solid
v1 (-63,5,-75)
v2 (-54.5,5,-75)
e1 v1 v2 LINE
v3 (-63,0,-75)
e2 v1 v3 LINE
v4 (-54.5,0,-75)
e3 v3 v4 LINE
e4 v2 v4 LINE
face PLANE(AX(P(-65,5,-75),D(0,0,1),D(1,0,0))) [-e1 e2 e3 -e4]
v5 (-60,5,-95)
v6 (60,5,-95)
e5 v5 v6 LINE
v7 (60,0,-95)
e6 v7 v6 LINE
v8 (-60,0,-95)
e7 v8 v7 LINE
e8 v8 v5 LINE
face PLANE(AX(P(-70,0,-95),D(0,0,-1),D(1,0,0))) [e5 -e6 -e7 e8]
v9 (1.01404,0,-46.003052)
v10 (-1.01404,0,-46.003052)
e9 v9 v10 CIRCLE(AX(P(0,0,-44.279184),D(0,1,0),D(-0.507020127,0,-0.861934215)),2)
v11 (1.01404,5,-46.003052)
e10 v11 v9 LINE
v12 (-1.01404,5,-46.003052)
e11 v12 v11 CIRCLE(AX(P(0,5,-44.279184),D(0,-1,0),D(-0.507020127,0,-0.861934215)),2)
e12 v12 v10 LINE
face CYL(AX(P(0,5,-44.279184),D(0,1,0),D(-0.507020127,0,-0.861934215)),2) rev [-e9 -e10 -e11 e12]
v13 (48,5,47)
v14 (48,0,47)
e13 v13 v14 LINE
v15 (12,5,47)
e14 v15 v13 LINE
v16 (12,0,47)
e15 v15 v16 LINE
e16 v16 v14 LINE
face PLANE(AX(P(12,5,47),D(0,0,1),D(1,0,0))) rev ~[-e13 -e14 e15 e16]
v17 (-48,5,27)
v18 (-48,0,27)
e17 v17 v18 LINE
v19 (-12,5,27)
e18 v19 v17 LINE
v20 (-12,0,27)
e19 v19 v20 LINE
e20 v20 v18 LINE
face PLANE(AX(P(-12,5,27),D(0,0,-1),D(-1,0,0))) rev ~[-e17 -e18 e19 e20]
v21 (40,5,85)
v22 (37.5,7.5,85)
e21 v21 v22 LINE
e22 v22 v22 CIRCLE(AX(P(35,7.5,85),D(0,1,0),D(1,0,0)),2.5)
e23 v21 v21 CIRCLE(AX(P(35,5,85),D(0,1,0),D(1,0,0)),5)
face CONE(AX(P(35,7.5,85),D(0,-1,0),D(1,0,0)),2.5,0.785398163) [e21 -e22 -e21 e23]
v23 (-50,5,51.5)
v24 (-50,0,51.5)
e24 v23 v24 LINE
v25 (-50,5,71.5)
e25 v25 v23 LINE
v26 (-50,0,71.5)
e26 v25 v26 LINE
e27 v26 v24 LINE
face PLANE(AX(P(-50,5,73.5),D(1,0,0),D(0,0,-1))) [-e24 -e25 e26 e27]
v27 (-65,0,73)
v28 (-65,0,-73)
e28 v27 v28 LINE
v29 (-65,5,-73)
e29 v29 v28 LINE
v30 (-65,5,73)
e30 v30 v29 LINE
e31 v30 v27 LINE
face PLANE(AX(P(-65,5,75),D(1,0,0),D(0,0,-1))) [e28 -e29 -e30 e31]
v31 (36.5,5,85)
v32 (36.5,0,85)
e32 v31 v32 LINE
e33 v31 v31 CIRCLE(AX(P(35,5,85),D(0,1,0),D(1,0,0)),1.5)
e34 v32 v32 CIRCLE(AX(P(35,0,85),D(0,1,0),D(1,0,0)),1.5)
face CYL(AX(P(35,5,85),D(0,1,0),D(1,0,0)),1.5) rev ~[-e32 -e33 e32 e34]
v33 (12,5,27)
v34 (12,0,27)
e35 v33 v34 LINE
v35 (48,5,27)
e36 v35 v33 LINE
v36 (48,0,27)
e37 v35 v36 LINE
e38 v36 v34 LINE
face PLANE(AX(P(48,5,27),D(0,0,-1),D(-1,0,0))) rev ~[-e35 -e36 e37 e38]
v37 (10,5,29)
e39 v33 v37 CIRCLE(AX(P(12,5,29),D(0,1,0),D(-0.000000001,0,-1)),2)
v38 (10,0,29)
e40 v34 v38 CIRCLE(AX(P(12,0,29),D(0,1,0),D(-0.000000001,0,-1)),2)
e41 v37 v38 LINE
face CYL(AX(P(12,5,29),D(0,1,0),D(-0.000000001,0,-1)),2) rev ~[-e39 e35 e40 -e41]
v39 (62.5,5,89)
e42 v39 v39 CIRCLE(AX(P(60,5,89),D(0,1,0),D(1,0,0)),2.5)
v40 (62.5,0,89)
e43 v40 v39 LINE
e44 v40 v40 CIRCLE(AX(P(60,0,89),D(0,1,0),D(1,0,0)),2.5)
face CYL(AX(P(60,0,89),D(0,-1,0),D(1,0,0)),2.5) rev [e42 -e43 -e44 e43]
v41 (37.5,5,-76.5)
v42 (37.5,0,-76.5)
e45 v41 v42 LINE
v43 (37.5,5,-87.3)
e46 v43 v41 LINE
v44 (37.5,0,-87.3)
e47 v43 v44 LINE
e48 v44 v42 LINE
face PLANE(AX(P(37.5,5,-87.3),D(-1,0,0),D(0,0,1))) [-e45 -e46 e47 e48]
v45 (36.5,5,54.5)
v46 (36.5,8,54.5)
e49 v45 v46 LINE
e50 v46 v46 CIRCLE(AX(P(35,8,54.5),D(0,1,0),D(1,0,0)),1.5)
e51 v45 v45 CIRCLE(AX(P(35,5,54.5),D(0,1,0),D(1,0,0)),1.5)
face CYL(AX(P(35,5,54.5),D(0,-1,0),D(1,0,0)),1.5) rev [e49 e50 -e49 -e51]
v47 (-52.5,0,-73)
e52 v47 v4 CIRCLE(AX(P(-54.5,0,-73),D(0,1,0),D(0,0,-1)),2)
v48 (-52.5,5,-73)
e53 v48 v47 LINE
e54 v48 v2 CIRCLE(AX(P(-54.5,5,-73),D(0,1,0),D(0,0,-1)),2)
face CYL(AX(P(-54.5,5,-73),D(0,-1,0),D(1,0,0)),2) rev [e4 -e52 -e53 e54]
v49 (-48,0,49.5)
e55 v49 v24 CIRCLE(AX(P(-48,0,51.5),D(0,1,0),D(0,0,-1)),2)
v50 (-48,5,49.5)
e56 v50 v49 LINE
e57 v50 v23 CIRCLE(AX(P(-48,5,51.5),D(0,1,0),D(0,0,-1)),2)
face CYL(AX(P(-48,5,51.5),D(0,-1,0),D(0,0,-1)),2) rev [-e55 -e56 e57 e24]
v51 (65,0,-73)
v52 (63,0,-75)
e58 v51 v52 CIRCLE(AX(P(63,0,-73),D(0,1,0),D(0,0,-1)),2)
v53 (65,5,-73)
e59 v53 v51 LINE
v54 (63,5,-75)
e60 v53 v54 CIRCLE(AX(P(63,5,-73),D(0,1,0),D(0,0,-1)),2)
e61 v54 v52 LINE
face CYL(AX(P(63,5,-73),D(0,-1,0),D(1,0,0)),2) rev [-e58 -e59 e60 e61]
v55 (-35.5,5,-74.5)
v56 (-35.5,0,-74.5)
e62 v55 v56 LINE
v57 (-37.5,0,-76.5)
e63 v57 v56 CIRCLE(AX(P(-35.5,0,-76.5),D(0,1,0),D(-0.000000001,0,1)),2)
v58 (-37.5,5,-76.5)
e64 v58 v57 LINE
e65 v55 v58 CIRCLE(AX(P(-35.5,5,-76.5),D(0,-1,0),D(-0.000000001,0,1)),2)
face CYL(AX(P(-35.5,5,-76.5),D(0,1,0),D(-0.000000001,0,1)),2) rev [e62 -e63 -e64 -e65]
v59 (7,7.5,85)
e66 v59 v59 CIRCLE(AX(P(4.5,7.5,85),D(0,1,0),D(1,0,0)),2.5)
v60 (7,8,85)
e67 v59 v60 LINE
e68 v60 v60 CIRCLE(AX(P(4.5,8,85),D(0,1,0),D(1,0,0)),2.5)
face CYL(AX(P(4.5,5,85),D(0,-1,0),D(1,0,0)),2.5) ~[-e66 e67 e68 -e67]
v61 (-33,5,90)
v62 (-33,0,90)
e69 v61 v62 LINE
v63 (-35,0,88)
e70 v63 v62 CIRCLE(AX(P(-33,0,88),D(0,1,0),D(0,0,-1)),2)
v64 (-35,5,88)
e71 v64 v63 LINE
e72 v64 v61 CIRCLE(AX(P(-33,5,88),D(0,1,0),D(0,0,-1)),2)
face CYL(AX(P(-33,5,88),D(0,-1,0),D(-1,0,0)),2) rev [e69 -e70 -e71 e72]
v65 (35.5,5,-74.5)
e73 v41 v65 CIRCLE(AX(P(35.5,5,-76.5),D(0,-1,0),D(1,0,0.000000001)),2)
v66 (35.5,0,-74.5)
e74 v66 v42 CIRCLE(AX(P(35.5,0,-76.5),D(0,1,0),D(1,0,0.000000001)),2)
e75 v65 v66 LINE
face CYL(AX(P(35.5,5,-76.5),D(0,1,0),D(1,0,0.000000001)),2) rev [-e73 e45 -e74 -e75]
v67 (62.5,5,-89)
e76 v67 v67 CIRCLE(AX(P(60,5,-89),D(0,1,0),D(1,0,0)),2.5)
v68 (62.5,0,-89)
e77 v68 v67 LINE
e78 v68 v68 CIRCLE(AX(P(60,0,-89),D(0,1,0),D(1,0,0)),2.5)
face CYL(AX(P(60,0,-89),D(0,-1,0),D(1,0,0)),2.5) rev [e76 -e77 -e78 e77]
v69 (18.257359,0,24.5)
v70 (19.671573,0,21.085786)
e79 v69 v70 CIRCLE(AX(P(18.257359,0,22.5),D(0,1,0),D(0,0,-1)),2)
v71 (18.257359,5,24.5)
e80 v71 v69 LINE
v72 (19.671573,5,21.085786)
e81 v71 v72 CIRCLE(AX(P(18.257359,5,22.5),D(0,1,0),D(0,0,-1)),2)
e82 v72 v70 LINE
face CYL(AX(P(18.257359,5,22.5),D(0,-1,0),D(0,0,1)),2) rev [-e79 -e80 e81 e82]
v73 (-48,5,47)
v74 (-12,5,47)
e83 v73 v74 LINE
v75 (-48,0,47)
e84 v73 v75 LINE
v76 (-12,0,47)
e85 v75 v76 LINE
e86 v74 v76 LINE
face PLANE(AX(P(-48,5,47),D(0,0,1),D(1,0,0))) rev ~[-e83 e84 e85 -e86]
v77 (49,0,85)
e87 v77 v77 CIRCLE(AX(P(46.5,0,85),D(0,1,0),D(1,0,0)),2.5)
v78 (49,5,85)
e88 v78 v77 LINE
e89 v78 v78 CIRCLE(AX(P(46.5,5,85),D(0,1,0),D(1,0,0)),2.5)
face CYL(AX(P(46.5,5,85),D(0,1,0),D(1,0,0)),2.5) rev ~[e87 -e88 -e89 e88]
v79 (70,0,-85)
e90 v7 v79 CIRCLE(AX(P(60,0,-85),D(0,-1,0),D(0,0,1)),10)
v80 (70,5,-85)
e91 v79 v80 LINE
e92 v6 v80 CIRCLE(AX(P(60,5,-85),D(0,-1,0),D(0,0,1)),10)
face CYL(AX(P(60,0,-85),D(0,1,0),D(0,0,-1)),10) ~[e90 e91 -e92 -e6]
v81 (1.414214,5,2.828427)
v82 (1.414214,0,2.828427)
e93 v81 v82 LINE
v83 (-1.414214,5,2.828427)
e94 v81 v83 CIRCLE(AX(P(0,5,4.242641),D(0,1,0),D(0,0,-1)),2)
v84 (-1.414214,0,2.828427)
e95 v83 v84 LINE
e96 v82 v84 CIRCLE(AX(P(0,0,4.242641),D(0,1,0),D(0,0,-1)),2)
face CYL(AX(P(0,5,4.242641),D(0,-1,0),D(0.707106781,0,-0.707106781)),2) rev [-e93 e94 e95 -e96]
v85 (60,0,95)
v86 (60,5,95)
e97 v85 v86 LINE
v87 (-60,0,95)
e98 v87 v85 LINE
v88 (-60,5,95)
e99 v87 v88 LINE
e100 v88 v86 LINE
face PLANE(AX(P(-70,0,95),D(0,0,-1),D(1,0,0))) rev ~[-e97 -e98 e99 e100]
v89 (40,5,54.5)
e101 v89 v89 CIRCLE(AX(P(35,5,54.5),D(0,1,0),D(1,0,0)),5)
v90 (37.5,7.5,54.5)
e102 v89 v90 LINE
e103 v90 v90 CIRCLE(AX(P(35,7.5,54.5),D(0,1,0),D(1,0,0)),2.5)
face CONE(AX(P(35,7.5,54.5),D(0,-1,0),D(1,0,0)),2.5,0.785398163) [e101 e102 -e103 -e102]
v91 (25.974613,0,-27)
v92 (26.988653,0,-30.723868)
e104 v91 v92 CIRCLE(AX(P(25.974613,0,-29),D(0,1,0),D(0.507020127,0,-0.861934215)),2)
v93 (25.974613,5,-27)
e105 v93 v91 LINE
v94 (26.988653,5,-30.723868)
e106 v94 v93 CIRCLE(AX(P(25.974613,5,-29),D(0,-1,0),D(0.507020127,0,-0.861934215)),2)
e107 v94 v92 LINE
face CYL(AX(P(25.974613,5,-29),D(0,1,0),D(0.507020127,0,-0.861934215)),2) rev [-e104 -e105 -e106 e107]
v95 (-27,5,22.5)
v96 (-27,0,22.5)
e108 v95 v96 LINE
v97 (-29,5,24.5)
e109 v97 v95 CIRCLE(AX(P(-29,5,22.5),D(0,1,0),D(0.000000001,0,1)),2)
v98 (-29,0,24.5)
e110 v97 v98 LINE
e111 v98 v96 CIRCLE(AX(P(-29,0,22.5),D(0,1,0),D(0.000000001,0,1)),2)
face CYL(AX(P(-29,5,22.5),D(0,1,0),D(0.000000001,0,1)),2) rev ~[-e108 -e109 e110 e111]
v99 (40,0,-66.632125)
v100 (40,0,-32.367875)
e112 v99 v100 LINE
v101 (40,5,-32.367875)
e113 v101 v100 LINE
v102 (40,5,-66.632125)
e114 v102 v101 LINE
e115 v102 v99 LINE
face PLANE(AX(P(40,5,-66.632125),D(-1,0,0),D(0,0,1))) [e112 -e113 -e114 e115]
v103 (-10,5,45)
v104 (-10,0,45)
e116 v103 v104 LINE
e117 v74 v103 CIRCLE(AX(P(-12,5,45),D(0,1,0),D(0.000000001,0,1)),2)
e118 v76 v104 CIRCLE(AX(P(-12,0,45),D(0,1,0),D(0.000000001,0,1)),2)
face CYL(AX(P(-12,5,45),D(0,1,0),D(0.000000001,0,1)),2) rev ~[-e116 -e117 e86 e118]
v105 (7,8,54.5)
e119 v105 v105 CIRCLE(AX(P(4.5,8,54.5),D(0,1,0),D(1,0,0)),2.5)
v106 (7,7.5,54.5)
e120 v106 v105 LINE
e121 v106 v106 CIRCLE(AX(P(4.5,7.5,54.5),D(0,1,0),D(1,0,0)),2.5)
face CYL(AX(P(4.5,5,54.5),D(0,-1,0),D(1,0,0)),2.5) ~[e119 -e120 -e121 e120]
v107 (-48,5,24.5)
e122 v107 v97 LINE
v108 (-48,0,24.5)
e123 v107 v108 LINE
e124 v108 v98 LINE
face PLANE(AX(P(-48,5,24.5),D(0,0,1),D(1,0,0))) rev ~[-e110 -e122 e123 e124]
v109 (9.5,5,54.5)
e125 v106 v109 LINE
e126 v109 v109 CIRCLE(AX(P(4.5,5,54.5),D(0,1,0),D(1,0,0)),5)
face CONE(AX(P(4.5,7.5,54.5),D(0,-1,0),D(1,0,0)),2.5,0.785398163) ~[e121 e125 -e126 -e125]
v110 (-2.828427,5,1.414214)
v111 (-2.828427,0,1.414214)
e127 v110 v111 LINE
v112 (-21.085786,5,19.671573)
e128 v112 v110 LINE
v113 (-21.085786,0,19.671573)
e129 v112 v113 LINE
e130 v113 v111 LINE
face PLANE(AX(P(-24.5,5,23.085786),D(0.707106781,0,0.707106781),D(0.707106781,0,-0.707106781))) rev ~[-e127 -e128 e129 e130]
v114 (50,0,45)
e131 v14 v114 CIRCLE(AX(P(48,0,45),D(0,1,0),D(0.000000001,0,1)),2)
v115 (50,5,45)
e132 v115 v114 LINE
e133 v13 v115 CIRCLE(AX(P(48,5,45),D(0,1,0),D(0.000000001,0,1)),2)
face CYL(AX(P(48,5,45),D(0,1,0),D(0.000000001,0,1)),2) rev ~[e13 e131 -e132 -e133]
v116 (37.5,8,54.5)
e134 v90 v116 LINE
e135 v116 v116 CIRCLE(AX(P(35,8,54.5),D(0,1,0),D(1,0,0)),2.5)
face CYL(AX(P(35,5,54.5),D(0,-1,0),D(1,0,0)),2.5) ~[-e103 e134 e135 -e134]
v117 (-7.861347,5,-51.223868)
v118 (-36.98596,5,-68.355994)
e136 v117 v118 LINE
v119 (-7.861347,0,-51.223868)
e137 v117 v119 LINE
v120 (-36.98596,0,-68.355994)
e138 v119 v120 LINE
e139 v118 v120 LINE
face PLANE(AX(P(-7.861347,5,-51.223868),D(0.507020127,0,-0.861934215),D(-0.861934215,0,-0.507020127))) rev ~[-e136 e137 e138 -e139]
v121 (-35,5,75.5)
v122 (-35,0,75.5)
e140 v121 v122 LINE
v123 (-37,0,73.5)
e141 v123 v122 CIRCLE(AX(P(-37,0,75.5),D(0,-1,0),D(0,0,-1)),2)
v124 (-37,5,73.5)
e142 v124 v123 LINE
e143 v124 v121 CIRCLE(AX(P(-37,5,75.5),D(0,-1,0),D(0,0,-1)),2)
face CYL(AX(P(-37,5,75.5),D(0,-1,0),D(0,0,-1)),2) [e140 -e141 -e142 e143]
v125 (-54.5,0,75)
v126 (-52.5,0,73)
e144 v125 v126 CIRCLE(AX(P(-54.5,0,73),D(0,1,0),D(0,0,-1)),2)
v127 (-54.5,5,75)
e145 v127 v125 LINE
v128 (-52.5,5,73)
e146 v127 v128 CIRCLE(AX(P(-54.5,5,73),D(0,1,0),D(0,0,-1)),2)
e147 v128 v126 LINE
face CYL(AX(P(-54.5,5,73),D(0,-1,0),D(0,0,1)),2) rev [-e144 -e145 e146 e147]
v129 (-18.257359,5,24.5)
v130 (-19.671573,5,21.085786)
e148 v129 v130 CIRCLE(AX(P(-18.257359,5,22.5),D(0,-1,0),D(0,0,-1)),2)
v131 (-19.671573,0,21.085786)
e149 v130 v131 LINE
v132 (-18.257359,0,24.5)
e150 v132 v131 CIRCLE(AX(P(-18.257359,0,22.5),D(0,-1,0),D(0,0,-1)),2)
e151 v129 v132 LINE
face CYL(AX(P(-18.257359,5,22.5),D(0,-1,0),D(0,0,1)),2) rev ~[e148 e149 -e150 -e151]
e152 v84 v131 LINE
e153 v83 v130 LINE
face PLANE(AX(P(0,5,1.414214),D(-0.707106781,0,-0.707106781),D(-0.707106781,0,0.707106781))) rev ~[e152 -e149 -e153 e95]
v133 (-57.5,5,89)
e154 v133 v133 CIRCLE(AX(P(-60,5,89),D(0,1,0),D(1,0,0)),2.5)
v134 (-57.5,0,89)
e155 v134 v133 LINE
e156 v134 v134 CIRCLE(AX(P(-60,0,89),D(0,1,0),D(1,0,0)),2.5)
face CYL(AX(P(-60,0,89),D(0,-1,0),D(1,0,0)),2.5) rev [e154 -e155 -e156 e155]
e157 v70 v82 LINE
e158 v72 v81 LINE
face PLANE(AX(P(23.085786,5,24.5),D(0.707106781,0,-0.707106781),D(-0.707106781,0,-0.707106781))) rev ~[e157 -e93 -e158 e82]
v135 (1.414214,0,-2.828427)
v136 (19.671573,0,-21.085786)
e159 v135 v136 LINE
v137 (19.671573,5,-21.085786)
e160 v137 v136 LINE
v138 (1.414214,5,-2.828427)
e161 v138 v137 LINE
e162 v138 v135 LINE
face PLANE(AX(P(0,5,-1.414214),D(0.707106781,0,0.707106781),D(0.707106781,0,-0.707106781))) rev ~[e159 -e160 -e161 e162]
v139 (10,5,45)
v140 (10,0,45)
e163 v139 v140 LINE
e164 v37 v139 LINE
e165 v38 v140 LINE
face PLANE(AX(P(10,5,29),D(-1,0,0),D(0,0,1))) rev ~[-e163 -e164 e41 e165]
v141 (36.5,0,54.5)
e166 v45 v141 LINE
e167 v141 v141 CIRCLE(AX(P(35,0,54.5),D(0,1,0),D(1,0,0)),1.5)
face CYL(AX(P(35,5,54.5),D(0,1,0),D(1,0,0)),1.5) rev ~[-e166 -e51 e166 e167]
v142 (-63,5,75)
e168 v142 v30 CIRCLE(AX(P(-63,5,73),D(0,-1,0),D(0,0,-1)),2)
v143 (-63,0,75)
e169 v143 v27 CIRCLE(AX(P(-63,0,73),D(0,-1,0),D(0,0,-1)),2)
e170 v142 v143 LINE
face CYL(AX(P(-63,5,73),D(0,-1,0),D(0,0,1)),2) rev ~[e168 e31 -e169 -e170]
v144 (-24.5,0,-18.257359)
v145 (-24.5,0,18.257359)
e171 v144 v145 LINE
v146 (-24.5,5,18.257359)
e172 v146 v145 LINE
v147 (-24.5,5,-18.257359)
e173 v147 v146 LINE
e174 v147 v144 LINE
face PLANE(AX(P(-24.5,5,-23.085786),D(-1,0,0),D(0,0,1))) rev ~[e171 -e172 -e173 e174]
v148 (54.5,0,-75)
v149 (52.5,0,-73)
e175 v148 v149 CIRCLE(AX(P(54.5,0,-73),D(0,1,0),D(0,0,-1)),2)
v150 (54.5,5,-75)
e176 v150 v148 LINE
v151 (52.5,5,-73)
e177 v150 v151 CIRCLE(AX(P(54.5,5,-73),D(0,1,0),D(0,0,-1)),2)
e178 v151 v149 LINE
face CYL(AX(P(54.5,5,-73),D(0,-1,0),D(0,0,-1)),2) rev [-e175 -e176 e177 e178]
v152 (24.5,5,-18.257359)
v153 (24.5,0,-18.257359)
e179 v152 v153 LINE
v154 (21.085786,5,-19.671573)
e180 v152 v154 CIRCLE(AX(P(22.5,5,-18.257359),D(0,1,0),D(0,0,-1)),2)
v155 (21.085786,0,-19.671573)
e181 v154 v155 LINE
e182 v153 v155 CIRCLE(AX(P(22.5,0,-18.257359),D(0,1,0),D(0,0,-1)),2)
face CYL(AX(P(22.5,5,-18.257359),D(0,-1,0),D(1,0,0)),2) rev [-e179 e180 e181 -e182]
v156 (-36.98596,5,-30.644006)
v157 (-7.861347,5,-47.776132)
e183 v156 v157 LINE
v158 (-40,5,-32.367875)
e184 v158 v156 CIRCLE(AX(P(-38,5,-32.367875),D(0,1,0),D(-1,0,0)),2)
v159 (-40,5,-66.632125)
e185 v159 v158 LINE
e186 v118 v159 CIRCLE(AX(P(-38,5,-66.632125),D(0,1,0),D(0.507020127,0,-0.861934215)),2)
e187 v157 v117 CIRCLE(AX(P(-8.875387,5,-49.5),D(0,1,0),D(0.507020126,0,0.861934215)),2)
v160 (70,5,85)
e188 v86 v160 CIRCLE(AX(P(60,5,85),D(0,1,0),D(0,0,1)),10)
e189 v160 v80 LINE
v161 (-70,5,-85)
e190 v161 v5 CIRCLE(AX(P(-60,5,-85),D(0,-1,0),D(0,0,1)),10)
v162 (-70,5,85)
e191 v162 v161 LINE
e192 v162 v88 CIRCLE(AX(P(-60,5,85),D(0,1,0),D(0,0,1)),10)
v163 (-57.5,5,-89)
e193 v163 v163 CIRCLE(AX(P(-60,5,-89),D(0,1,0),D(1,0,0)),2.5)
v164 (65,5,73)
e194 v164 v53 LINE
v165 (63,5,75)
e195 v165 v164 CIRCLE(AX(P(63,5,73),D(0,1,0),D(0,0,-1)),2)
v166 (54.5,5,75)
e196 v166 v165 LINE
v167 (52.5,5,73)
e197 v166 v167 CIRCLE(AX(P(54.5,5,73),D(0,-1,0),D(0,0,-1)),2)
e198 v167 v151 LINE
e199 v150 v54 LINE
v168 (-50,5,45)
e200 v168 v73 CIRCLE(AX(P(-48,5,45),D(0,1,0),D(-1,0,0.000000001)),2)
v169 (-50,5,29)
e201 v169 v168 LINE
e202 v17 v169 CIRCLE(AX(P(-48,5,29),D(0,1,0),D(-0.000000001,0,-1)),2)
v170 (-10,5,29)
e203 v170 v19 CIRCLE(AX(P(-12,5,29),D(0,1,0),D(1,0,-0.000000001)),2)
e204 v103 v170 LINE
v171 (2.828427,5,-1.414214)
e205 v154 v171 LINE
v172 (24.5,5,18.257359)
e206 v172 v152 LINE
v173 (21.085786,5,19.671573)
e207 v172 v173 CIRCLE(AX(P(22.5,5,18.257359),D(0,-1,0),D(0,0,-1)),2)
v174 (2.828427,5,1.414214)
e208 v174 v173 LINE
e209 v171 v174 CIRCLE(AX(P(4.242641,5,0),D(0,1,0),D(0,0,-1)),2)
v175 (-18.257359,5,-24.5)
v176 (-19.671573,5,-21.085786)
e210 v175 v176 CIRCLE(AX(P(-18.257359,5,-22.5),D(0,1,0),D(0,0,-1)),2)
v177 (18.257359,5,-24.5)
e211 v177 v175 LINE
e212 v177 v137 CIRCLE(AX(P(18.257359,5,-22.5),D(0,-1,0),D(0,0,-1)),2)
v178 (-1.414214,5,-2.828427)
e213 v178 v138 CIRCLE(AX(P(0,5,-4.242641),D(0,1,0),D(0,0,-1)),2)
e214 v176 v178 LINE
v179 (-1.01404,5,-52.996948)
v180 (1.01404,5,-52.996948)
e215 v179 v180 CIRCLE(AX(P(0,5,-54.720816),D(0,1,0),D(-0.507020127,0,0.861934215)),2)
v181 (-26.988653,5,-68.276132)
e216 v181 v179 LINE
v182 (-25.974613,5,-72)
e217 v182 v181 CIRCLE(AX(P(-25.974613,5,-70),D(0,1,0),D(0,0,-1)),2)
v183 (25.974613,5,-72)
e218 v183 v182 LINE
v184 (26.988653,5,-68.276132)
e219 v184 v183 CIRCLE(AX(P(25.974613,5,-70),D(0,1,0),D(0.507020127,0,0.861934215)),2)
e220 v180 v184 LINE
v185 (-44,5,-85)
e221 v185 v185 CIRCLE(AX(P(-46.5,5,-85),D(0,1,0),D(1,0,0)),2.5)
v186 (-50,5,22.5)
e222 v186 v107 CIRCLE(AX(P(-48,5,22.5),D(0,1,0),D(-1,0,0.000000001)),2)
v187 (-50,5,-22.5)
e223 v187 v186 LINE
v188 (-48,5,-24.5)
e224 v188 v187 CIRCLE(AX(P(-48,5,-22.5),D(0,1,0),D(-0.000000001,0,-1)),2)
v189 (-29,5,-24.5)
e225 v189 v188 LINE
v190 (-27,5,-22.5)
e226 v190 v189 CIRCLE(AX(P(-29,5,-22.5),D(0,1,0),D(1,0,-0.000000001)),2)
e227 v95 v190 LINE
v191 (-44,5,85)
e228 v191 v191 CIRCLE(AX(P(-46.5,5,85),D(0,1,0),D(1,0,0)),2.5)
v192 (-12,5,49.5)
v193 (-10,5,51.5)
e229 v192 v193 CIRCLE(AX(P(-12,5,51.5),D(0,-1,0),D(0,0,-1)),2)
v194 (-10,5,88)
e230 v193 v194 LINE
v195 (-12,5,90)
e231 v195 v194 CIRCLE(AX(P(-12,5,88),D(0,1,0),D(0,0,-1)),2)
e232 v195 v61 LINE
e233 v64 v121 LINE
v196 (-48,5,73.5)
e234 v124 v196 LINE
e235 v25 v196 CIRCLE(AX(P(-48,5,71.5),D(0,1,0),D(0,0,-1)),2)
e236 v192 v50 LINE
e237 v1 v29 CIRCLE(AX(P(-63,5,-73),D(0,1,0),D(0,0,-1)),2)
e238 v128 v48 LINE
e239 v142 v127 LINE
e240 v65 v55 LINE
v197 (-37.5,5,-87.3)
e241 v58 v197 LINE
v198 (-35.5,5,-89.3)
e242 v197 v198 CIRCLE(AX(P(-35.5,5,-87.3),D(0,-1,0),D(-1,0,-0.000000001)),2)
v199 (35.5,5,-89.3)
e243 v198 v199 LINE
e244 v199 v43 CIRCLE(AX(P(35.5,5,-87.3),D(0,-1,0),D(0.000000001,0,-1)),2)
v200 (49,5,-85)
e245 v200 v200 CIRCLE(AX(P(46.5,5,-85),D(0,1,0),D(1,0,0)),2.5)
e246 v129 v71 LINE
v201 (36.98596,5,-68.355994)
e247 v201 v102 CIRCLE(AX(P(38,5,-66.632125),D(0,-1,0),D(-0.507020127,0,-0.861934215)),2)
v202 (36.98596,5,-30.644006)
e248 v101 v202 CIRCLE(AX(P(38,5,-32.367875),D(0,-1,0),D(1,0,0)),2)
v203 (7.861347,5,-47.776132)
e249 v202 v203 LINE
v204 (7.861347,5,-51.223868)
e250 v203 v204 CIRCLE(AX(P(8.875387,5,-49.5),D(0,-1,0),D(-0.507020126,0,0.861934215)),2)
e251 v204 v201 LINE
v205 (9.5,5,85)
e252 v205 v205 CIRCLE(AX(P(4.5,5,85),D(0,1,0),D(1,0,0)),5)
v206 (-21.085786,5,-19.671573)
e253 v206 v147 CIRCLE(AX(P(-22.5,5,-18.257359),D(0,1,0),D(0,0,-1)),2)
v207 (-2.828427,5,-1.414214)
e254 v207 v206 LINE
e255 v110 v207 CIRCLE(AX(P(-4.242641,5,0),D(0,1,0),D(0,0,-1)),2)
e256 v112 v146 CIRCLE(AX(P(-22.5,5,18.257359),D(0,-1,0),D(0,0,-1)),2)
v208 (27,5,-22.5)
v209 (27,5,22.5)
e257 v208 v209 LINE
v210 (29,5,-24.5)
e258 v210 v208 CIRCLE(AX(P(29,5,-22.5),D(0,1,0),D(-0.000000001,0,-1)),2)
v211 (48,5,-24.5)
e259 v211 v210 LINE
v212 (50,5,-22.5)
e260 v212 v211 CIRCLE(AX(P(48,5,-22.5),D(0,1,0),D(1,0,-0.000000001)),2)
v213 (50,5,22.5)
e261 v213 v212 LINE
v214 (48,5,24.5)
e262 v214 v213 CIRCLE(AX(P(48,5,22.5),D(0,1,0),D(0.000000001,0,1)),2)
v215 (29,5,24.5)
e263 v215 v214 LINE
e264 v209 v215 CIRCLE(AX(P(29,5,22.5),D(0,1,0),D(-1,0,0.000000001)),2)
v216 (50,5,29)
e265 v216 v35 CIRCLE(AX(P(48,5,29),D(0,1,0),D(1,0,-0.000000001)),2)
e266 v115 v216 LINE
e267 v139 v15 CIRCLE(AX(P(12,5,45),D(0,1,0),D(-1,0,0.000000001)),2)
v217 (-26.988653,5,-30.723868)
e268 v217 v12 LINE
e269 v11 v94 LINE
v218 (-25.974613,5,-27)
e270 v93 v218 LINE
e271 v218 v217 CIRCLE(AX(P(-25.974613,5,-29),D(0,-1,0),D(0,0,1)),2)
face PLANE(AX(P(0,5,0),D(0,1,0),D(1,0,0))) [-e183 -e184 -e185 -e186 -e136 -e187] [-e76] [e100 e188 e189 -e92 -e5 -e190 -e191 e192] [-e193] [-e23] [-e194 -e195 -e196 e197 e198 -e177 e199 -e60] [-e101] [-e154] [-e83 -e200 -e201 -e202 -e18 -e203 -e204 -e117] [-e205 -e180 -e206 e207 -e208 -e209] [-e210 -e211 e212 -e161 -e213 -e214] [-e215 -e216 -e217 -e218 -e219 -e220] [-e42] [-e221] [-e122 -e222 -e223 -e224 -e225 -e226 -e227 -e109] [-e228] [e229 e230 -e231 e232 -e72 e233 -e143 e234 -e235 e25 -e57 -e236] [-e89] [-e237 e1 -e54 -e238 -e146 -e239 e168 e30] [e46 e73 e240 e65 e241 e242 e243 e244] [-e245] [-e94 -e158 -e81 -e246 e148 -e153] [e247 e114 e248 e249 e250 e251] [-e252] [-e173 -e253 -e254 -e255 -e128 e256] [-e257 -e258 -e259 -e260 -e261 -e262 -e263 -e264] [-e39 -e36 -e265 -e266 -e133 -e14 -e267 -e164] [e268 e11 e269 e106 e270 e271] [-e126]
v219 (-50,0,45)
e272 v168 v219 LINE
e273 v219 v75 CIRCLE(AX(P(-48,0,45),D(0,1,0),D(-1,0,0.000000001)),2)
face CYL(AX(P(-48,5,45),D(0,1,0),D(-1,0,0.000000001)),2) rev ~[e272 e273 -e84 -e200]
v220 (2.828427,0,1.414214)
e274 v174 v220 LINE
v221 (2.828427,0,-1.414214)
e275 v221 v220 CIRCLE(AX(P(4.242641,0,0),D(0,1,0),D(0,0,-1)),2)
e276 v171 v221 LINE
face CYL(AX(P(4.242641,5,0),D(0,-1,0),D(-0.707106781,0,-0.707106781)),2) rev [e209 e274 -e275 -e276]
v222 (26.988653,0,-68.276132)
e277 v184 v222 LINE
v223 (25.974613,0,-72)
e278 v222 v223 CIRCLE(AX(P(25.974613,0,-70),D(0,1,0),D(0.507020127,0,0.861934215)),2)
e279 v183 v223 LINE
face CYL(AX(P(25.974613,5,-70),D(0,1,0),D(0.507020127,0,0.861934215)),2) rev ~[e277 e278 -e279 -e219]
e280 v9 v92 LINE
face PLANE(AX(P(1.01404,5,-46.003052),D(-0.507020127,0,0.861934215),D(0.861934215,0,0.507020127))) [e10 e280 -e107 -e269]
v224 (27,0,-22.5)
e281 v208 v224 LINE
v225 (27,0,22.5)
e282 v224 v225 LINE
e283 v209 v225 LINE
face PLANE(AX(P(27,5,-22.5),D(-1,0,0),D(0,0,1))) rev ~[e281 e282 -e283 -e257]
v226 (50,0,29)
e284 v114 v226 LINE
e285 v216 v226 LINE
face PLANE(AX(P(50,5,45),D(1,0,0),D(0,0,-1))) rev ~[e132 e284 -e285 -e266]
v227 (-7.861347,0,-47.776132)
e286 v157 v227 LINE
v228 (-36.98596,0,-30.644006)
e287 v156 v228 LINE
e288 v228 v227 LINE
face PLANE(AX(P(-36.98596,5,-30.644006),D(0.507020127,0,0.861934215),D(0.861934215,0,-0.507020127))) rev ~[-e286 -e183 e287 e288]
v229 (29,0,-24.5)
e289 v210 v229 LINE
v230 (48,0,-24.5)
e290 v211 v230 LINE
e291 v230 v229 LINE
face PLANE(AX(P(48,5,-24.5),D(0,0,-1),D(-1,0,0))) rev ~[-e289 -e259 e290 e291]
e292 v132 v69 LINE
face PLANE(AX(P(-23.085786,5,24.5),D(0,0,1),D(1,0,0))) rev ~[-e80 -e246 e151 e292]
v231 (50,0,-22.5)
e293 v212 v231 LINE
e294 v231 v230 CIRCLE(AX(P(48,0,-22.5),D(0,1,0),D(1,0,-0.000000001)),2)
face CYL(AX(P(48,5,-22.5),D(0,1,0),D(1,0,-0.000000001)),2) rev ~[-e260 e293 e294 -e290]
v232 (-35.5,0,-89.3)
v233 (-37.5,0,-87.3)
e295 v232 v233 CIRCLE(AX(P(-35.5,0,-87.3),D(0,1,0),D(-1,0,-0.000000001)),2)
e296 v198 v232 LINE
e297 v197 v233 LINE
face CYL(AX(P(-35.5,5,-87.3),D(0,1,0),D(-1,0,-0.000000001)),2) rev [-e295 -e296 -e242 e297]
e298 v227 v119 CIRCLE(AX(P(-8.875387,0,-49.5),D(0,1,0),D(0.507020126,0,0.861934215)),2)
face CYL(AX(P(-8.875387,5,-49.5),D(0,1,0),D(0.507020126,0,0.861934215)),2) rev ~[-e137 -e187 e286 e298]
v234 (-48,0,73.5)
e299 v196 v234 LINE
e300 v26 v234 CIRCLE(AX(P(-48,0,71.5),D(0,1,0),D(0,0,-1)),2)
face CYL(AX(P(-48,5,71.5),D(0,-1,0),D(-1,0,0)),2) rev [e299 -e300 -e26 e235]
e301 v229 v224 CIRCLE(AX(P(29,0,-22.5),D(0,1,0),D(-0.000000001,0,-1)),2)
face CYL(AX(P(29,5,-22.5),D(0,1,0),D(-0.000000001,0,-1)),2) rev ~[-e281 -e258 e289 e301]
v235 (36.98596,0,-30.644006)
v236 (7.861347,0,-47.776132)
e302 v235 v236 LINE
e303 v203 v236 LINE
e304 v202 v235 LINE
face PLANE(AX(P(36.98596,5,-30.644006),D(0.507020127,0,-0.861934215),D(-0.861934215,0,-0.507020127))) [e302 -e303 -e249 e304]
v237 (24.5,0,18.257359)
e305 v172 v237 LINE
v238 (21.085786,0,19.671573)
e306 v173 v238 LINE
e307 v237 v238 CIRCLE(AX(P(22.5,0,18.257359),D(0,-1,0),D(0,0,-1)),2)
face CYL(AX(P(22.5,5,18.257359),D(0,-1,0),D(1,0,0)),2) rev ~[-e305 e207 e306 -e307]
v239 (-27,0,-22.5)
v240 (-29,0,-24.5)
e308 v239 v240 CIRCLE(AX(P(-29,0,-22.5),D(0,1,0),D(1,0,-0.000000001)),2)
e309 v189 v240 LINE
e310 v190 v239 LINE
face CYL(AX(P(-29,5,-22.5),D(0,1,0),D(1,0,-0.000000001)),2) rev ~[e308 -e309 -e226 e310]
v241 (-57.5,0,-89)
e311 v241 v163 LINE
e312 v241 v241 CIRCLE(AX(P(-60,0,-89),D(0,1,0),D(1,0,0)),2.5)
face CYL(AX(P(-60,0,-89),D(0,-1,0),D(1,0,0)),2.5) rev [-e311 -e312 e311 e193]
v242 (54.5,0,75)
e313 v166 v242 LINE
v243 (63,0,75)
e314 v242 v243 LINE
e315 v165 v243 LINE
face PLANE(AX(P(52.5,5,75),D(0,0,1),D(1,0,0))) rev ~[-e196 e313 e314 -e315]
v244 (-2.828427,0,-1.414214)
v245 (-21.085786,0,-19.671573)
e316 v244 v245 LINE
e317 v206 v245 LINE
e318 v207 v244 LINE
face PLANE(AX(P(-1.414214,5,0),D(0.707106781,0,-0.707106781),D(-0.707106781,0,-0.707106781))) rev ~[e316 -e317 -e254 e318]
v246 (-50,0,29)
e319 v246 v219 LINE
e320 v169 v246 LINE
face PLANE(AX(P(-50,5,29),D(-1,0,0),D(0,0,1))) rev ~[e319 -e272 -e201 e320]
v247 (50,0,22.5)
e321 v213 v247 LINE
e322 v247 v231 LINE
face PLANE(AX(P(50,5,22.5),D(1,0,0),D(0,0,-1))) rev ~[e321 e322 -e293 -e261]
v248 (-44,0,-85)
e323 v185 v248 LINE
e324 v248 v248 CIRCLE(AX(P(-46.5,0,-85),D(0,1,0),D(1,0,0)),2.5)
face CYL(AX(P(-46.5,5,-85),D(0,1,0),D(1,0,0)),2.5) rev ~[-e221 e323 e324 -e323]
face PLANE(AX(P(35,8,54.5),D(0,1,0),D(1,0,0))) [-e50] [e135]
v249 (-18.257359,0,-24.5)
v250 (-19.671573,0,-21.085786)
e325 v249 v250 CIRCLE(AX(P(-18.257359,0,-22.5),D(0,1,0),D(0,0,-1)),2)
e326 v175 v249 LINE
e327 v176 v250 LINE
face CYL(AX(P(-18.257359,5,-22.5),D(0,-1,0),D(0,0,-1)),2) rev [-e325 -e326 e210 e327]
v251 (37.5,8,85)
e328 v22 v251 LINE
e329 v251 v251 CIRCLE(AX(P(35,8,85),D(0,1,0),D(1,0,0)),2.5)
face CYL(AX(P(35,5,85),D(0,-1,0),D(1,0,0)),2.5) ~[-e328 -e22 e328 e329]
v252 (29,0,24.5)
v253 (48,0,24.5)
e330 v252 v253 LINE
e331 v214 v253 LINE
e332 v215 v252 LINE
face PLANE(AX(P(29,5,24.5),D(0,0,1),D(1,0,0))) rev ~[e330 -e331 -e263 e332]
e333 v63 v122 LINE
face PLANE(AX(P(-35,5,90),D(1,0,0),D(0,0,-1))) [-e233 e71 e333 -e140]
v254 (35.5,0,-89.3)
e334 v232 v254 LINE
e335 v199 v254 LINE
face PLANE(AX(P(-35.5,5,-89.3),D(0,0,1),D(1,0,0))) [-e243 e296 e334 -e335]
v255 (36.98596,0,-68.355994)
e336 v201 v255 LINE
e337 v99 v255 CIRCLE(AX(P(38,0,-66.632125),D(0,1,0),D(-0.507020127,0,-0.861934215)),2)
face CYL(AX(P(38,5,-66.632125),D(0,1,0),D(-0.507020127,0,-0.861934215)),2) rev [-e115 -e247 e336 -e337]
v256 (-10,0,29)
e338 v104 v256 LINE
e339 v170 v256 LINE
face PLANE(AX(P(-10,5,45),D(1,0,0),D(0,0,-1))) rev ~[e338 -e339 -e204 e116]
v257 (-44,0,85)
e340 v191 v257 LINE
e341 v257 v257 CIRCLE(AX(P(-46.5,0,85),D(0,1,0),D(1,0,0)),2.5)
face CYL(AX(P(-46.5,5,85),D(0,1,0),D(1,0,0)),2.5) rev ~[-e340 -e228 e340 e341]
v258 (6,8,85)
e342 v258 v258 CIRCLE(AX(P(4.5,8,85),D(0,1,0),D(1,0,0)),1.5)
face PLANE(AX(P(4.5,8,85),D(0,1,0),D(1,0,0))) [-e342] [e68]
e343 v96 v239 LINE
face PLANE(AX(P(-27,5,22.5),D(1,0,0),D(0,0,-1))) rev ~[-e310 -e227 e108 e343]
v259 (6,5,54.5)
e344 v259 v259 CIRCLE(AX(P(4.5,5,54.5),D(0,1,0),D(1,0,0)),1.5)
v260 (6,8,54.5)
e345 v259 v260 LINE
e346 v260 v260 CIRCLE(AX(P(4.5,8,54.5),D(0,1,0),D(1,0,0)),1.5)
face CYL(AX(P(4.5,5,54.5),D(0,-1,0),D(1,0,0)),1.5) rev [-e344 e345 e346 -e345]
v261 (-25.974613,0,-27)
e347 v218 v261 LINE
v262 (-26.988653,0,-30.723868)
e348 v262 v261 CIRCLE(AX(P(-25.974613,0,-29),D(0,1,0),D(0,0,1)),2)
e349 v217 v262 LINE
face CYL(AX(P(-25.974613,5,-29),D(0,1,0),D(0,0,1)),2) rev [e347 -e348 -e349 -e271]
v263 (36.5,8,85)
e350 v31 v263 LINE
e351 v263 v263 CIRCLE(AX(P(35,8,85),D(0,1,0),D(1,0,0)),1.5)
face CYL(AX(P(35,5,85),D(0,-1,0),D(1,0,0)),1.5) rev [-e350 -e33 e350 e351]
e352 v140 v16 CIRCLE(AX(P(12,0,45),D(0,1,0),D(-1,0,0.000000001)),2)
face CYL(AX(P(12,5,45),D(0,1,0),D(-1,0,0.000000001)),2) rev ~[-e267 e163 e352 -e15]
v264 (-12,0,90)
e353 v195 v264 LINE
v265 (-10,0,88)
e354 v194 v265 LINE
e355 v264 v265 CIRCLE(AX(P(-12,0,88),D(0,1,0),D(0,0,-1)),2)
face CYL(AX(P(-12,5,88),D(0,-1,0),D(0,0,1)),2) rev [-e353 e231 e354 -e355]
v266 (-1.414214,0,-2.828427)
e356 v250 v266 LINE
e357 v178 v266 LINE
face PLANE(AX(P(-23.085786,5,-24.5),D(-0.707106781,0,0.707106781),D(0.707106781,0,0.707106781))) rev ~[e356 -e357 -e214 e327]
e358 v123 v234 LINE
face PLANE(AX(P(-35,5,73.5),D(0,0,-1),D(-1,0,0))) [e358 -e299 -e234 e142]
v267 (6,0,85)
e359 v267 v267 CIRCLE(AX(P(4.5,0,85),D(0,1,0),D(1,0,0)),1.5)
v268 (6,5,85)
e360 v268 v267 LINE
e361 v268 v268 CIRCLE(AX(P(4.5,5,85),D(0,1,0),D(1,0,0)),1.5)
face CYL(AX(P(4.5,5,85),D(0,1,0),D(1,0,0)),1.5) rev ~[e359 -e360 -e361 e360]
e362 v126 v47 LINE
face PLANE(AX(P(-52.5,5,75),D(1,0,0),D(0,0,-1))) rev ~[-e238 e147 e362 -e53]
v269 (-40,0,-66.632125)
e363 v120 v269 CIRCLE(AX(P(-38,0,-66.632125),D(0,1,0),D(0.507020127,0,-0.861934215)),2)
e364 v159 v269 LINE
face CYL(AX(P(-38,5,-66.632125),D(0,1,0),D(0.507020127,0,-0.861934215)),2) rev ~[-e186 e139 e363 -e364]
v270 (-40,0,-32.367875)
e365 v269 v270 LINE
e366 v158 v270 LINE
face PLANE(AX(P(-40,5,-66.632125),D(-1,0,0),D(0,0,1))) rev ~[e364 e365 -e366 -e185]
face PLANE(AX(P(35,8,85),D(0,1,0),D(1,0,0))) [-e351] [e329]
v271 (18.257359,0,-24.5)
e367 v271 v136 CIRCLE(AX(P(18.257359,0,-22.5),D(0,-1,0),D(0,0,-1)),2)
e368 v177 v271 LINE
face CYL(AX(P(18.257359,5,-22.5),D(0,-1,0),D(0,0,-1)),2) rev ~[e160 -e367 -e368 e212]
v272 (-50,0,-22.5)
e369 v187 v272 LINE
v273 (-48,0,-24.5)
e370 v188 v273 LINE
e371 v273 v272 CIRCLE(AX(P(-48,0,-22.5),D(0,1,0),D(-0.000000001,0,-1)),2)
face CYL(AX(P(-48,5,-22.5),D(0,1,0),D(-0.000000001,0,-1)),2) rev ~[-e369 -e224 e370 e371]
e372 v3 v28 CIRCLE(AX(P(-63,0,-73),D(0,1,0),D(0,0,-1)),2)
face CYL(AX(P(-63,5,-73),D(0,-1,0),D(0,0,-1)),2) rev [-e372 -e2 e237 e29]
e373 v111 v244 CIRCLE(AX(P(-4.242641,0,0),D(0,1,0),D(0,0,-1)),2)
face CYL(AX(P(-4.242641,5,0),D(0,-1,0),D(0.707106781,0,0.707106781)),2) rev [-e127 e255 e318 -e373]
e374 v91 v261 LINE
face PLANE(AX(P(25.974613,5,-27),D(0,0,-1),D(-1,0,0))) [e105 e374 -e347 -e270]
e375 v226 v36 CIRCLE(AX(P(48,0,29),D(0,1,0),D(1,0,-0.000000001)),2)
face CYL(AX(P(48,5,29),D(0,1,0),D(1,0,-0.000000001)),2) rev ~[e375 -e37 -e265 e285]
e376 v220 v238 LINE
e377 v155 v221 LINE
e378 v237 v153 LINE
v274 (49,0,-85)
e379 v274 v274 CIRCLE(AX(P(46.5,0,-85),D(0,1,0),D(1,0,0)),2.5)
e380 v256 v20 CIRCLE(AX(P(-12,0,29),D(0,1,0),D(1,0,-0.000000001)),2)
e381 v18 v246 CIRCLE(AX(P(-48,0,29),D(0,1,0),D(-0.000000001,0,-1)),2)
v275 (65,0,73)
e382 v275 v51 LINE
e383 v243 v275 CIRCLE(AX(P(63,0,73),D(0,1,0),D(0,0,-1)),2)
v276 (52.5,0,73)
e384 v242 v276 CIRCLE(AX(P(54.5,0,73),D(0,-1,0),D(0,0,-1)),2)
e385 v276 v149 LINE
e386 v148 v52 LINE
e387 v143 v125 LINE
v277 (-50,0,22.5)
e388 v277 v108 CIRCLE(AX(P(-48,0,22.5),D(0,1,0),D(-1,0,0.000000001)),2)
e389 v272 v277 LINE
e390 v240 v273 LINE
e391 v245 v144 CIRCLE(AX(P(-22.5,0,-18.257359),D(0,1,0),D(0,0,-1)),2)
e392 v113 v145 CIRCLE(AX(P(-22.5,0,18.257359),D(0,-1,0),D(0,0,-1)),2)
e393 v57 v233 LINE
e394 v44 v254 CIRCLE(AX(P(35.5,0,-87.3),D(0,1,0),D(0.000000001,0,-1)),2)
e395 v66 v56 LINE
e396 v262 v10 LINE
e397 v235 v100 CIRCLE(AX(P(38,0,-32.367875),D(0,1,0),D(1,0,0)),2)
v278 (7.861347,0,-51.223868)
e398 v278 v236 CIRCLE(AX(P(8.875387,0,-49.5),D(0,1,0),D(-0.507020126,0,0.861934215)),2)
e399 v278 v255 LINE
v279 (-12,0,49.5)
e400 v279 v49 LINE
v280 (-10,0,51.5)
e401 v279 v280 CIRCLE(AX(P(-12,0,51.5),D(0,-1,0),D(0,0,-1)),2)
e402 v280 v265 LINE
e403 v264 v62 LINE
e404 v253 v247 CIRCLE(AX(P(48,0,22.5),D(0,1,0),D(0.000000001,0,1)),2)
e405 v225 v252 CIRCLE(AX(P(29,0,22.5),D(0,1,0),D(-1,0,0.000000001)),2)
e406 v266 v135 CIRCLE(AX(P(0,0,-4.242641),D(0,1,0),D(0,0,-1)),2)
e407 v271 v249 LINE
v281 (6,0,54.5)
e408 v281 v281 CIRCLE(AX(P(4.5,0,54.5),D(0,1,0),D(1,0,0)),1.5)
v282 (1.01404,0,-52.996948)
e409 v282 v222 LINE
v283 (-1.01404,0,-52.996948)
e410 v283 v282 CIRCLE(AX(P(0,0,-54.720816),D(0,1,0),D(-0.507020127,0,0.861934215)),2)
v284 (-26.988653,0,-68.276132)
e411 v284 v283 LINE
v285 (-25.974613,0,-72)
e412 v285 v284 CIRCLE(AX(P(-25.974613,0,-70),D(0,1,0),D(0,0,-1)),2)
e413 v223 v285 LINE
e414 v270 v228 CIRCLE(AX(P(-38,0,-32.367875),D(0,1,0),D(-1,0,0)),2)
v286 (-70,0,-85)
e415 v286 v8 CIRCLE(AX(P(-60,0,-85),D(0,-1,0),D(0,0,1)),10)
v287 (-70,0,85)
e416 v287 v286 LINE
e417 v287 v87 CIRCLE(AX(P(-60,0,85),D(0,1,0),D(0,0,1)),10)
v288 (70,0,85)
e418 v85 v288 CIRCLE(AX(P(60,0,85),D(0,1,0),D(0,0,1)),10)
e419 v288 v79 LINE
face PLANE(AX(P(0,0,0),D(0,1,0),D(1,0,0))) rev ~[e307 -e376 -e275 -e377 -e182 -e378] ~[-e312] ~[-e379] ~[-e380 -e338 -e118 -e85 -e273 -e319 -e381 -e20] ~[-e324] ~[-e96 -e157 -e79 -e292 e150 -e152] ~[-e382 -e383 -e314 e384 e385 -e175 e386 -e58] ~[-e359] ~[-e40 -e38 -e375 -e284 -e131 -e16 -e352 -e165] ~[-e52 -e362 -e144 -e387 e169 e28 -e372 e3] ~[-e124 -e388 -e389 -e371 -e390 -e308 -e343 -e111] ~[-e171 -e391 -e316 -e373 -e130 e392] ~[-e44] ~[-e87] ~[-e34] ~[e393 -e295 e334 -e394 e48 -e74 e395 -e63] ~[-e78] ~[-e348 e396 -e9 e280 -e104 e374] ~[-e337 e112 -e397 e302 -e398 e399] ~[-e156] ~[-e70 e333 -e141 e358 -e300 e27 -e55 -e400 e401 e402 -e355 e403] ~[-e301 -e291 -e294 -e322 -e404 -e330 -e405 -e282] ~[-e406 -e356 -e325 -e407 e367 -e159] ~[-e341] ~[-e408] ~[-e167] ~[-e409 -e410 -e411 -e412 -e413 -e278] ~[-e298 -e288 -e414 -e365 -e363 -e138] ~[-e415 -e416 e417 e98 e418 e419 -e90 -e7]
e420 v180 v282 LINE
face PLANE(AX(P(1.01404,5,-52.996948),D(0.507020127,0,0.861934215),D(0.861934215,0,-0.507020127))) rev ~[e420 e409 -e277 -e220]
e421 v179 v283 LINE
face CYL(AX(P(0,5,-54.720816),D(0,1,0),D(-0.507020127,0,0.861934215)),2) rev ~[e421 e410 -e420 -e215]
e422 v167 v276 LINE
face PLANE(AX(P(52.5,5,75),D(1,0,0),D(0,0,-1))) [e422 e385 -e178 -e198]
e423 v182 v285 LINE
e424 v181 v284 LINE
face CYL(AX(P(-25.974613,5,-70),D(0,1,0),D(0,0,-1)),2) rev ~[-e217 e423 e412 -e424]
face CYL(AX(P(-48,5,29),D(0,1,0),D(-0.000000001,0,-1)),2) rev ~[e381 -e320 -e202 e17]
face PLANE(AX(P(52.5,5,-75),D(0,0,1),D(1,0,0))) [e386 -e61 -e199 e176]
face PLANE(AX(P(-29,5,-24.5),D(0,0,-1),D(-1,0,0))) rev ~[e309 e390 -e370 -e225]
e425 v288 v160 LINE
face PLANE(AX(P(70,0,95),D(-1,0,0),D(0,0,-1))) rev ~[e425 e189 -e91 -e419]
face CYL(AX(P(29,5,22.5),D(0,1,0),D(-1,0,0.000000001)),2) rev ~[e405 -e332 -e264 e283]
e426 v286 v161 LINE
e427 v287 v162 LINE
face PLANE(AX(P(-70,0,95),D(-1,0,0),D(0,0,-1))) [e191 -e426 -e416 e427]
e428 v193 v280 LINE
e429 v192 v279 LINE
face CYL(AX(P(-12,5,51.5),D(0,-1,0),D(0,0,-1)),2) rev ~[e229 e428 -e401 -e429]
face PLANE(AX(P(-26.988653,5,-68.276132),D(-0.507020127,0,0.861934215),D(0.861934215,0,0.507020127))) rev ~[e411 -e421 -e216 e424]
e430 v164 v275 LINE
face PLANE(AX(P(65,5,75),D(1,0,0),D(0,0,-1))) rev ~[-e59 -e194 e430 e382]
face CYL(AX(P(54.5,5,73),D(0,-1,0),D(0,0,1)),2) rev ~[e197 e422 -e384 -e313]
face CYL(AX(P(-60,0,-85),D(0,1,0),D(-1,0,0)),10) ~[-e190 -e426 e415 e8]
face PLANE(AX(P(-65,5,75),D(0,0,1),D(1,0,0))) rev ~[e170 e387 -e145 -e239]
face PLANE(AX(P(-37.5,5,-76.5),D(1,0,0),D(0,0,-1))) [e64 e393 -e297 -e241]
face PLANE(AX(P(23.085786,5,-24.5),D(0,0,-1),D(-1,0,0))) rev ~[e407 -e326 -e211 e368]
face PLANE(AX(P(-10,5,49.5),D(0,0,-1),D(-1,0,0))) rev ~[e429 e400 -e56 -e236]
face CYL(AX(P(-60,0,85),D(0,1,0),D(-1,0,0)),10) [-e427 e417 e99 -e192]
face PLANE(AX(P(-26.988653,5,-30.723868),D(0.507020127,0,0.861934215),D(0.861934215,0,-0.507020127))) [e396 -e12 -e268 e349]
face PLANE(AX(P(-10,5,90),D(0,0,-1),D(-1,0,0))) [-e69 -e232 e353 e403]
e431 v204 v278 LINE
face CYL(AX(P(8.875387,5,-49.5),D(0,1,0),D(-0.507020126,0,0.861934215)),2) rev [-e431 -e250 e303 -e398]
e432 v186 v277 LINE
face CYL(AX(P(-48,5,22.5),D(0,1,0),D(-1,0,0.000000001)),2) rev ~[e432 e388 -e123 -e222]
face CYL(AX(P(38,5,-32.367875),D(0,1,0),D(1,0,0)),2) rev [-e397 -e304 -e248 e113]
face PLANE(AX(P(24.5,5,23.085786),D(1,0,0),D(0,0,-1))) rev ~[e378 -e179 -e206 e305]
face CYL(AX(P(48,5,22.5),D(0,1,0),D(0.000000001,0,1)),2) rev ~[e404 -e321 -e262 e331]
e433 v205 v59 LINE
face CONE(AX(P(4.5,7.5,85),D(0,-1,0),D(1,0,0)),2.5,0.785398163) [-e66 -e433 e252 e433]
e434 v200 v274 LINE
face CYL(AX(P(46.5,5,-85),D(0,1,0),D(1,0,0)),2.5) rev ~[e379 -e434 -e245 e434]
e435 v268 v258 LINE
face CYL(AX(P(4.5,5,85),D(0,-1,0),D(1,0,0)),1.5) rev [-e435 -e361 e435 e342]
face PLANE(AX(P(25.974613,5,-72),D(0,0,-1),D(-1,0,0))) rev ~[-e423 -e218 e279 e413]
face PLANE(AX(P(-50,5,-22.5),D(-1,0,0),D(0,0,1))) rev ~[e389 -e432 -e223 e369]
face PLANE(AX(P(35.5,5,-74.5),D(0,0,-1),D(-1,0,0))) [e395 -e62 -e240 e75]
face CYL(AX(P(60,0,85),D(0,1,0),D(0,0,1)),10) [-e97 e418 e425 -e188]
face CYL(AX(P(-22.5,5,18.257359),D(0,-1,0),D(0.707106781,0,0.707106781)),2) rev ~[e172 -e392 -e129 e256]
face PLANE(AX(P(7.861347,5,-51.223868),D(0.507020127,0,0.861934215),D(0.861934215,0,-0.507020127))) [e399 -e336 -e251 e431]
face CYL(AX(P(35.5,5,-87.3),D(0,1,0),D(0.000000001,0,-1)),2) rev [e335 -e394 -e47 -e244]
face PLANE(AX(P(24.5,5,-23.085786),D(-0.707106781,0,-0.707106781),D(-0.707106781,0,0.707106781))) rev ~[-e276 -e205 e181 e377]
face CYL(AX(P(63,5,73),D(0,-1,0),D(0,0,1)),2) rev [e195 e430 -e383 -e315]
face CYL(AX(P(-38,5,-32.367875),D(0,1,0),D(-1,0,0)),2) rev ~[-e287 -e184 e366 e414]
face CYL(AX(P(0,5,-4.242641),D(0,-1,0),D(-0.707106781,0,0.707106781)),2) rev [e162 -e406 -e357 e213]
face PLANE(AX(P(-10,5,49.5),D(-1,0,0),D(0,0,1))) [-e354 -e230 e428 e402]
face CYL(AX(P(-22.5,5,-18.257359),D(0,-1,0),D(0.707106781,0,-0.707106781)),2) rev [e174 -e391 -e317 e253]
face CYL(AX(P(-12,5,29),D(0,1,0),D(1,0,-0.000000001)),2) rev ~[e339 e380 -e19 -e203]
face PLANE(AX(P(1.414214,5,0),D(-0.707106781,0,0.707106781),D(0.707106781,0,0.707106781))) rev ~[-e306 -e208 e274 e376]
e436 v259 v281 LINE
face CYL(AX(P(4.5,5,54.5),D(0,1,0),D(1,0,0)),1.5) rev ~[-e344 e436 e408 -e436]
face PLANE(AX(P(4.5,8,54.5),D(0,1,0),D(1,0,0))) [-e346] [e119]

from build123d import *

# Parameters (mm, degrees)
SKETCH1_W           = 140
SKETCH1_H           = 190
SKETCH1_R           = 2.5
BOSS_EXTRUDE1_DEPTH = 5
FILLET1_R           = 10
SKETCH3_R           = 1.5
CUT_EXTRUDE2_DEPTH  = 10
SKETCH14_W          = 12.5
SKETCH14_H          = 150
CUT_EXTRUDE9_DEPTH  = 10
FILLET3_R           = 2
SKETCH17_R          = 2.5
CUT_EXTRUDE12_DEPTH = 10
SKETCH18_R          = 2.5
SKETCH18_R_2        = 1.5
BOSS_EXTRUDE2_DEPTH = 3
CUT_EXTRUDE13_DEPTH = 6
CHAMFER1_SIZE       = 2.5


with BuildPart() as part:
    # Sketch1 → Boss-Extrude1 (new body)
    with BuildSketch(Plane(origin=(0, 0, 0), x_dir=(1, 0, 0), z_dir=(0, 1, 0))):
        Rectangle(SKETCH1_W, SKETCH1_H)
        with Locations((60, -89)):
            Circle(SKETCH1_R, mode=Mode.SUBTRACT)
        with Locations((60, 89)):
            Circle(SKETCH1_R, mode=Mode.SUBTRACT)
        with Locations((-60, 89)):
            Circle(SKETCH1_R, mode=Mode.SUBTRACT)
        with Locations((-60, -89)):
            Circle(SKETCH1_R, mode=Mode.SUBTRACT)
    extrude(amount=BOSS_EXTRUDE1_DEPTH)

    # Fillet1
    fillet1_edges = [part.edges().sort_by_distance(p)[0] for p in [
        (-70, 2.5, 95),
        (-70, 2.5, -95),
        (70, 2.5, -95),
        (70, 2.5, 95),
    ]]
    fillet(fillet1_edges, radius=FILLET1_R)

    # Sketch3 → Cut-Extrude2 (cut)
    with BuildSketch(Plane(origin=(0, 5, 0), x_dir=(1, 0, 0), z_dir=(0, 1, 0))):
        with Locations((4.5, -54.5)):
            Circle(SKETCH3_R)
        with Locations((35, -54.5)):
            Circle(SKETCH3_R)
        with Locations((4.5, -85)):
            Circle(SKETCH3_R)
        with Locations((35, -85)):
            Circle(SKETCH3_R)
    extrude(amount=-CUT_EXTRUDE2_DEPTH, mode=Mode.SUBTRACT)

    # Sketch14 → Cut-Extrude9 (cut)
    with BuildSketch(Plane(origin=(0, 5, 0), x_dir=(1, 0, 0), z_dir=(0, 1, 0))):
        with Locations((-58.75, 0)):
            Rectangle(SKETCH14_W, SKETCH14_H)
        with Locations((58.75, 0)):
            Rectangle(SKETCH14_W, SKETCH14_H)
        Polygon((-35, -49.5), (-10, -49.5), (-10, -90), (-35, -90), (-35, -73.5), (-50, -73.5), (-50, -49.5), align=None)
        with BuildLine():
            Line((-35.5, 89.3), (35.5, 89.3))
            ThreePointArc((35.5, 89.3), (36.914213562, 88.714213562), (37.5, 87.3))
            Line((37.5, 87.3), (37.5, 76.5))
            ThreePointArc((37.5, 76.5), (36.914213562, 75.085786438), (35.5, 74.5))
            Line((35.5, 74.5), (-35.5, 74.5))
            ThreePointArc((-35.5, 74.5), (-36.914213562, 75.085786438), (-37.5, 76.5))
            Line((-37.5, 76.5), (-37.5, 87.3))
            ThreePointArc((-37.5, 87.3), (-36.914213562, 88.714213562), (-35.5, 89.3))
        make_face()
        Polygon((-24.5, -23.085786438), (-1.414213562, 0), (-24.5, 23.085786438), align=None)
        Polygon((23.085786438, 24.5), (-23.085786438, 24.5), (0, 1.414213562), align=None)
        Polygon((24.5, -23.085786438), (24.5, 23.085786438), (1.414213562, 0), align=None)
        Polygon((-23.085786438, -24.5), (23.085786438, -24.5), (0, -1.414213562), align=None)
    extrude(amount=-CUT_EXTRUDE9_DEPTH, mode=Mode.SUBTRACT)

    # Fillet3
    fillet3_edges = [part.edges().sort_by_distance(p)[0] for p in [
        (-65, 2.5, 75),
        (-65, 2.5, -75),
        (-52.5, 2.5, -75),
        (-52.5, 2.5, 75),
        (1.414213562, 2.5, 0),
        (24.5, 2.5, -23.085786438),
        (24.5, 2.5, 23.085786438),
        (0, 2.5, -1.414213562),
        (-23.085786438, 2.5, -24.5),
        (23.085786438, 2.5, -24.5),
        (0, 2.5, 1.414213562),
        (23.085786438, 2.5, 24.5),
        (-23.085786438, 2.5, 24.5),
        (-50, 2.5, 49.5),
        (-10, 2.5, 49.5),
        (-10, 2.5, 90),
        (-35, 2.5, 90),
        (-35, 2.5, 73.5),
        (-50, 2.5, 73.5),
        (65, 2.5, -75),
        (65, 2.5, 75),
        (52.5, 2.5, 75),
        (52.5, 2.5, -75),
        (-24.5, 2.5, 23.085786438),
        (-24.5, 2.5, -23.085786438),
        (-1.414213562, 2.5, 0),
    ]]
    fillet(fillet3_edges, radius=FILLET3_R)

    # Sketch17 → Cut-Extrude12 (cut)
    with BuildSketch(Plane(origin=(0, 5, 0), x_dir=(1, 0, 0), z_dir=(0, 1, 0))):
        with Locations((46.5, 85)):
            Circle(SKETCH17_R)
        with Locations((46.5, -85)):
            Circle(SKETCH17_R)
        with Locations((-46.5, -85)):
            Circle(SKETCH17_R)
        with Locations((-46.5, 85)):
            Circle(SKETCH17_R)
    extrude(amount=-CUT_EXTRUDE12_DEPTH, mode=Mode.SUBTRACT)

    # Sketch18 → Boss-Extrude2 (add)
    with BuildSketch(Plane(origin=(0, 5, 0), x_dir=(1, 0, 0), z_dir=(0, 1, 0))):
        with Locations((4.5, -54.5)):
            Circle(SKETCH18_R)
        with Locations((4.5, -54.5)):
            Circle(SKETCH18_R_2, mode=Mode.SUBTRACT)
        with Locations((35, -54.5)):
            Circle(SKETCH18_R)
        with Locations((35, -54.5)):
            Circle(SKETCH18_R_2, mode=Mode.SUBTRACT)
        with Locations((35, -85)):
            Circle(SKETCH18_R)
        with Locations((35, -85)):
            Circle(SKETCH18_R_2, mode=Mode.SUBTRACT)
        with Locations((4.5, -85)):
            Circle(SKETCH18_R)
        with Locations((4.5, -85)):
            Circle(SKETCH18_R_2, mode=Mode.SUBTRACT)
    extrude(amount=BOSS_EXTRUDE2_DEPTH)

    # Sketch19 → Cut-Extrude13 (cut, through all)
    with BuildSketch(Plane(origin=(0, 5, 0), x_dir=(1, 0, 0), z_dir=(0, 1, 0))):
        with BuildLine():
            Line((-48, -47), (-12, -47))
            ThreePointArc((-12, -47), (-10.585786438, -46.414213562), (-10, -45))
            Line((-10, -45), (-10, -29))
            ThreePointArc((-10, -29), (-10.585786438, -27.585786438), (-12, -27))
            Line((-12, -27), (-48, -27))
            ThreePointArc((-48, -27), (-49.414213562, -27.585786438), (-50, -29))
            Line((-50, -29), (-50, -45))
            ThreePointArc((-50, -45), (-49.414213562, -46.414213562), (-48, -47))
        make_face()
        with BuildLine():
            Line((50, -45), (50, -29))
            ThreePointArc((50, -29), (49.414213562, -27.585786438), (48, -27))
            Line((48, -27), (12, -27))
            ThreePointArc((12, -27), (10.585786438, -27.585786438), (10, -29))
            Line((10, -29), (10, -45))
            ThreePointArc((10, -45), (10.585786438, -46.414213562), (12, -47))
            Line((12, -47), (48, -47))
            ThreePointArc((48, -47), (49.414213562, -46.414213562), (50, -45))
        make_face()
        with BuildLine():
            Line((-48, -24.5), (-29, -24.5))
            ThreePointArc((-29, -24.5), (-27.585786438, -23.914213562), (-27, -22.5))
            Line((-27, -22.5), (-27, 22.5))
            ThreePointArc((-27, 22.5), (-27.585786438, 23.914213562), (-29, 24.5))
            Line((-29, 24.5), (-48, 24.5))
            ThreePointArc((-48, 24.5), (-49.414213562, 23.914213562), (-50, 22.5))
            Line((-50, 22.5), (-50, -22.5))
            ThreePointArc((-50, -22.5), (-49.414213562, -23.914213562), (-48, -24.5))
        make_face()
        with BuildLine():
            Line((48, 24.5), (29, 24.5))
            ThreePointArc((29, 24.5), (27.585786438, 23.914213562), (27, 22.5))
            Line((27, 22.5), (27, -22.5))
            ThreePointArc((27, -22.5), (27.585786438, -23.914213562), (29, -24.5))
            Line((29, -24.5), (48, -24.5))
            ThreePointArc((48, -24.5), (49.414213562, -23.914213562), (50, -22.5))
            Line((50, -22.5), (50, 22.5))
            ThreePointArc((50, 22.5), (49.414213562, 23.914213562), (48, 24.5))
        make_face()
        with BuildLine():
            Line((-40, 66.632125109), (-40, 32.367874891))
            ThreePointArc((-40, 32.367874891), (-38.992955058, 30.631775743), (-36.985959747, 30.644006461))
            Line((-36.985959747, 30.644006461), (-7.861347062, 47.77613157))
            ThreePointArc((-7.861347062, 47.77613157), (-6.875387315, 49.5), (-7.861347062, 51.22386843))
            Line((-7.861347062, 51.22386843), (-36.985959747, 68.355993539))
            ThreePointArc((-36.985959747, 68.355993539), (-38.992955058, 68.368224257), (-40, 66.632125109))
        make_face()
        with BuildLine():
            Line((-26.988652938, 68.27613157), (-1.014040253, 52.996947638))
            ThreePointArc((-1.014040253, 52.996947638), (0, 52.720816068), (1.014040253, 52.996947638))
            Line((1.014040253, 52.996947638), (26.988652938, 68.27613157))
            ThreePointArc((26.988652938, 68.27613157), (27.90434542, 70.525482226), (25.974612685, 72))
            Line((25.974612685, 72), (-25.974612685, 72))
            ThreePointArc((-25.974612685, 72), (-27.90434542, 70.525482226), (-26.988652938, 68.27613157))
        make_face()
        with BuildLine():
            Line((36.985959747, 30.644006461), (7.861347062, 47.77613157))
            ThreePointArc((7.861347062, 47.77613157), (6.875387315, 49.5), (7.861347062, 51.22386843))
            Line((7.861347062, 51.22386843), (36.985959747, 68.355993539))
            ThreePointArc((36.985959747, 68.355993539), (38.992955058, 68.368224257), (40, 66.632125109))
            Line((40, 66.632125109), (40, 32.367874891))
            ThreePointArc((40, 32.367874891), (38.992955058, 30.631775743), (36.985959747, 30.644006461))
        make_face()
        with BuildLine():
            Line((1.014040253, 46.003052362), (26.988652938, 30.72386843))
            ThreePointArc((26.988652938, 30.72386843), (27.90434542, 28.474517774), (25.974612685, 27))
            Line((25.974612685, 27), (-25.974612685, 27))
            ThreePointArc((-25.974612685, 27), (-27.90434542, 28.474517774), (-26.988652938, 30.72386843))
            Line((-26.988652938, 30.72386843), (-1.014040253, 46.003052362))
            ThreePointArc((-1.014040253, 46.003052362), (0, 46.279183932), (1.014040253, 46.003052362))
        make_face()
    extrude(amount=-CUT_EXTRUDE13_DEPTH, mode=Mode.SUBTRACT)

    # Chamfer1
    chamfer1_edges = [part.edges().sort_by_distance(p)[0] for p in [
        (2, 5, 54.5),
        (32.5, 5, 54.5),
        (32.5, 5, 85),
        (2, 5, 85),
    ]]
    chamfer(chamfer1_edges, length=CHAMFER1_SIZE)


solid = part.part
